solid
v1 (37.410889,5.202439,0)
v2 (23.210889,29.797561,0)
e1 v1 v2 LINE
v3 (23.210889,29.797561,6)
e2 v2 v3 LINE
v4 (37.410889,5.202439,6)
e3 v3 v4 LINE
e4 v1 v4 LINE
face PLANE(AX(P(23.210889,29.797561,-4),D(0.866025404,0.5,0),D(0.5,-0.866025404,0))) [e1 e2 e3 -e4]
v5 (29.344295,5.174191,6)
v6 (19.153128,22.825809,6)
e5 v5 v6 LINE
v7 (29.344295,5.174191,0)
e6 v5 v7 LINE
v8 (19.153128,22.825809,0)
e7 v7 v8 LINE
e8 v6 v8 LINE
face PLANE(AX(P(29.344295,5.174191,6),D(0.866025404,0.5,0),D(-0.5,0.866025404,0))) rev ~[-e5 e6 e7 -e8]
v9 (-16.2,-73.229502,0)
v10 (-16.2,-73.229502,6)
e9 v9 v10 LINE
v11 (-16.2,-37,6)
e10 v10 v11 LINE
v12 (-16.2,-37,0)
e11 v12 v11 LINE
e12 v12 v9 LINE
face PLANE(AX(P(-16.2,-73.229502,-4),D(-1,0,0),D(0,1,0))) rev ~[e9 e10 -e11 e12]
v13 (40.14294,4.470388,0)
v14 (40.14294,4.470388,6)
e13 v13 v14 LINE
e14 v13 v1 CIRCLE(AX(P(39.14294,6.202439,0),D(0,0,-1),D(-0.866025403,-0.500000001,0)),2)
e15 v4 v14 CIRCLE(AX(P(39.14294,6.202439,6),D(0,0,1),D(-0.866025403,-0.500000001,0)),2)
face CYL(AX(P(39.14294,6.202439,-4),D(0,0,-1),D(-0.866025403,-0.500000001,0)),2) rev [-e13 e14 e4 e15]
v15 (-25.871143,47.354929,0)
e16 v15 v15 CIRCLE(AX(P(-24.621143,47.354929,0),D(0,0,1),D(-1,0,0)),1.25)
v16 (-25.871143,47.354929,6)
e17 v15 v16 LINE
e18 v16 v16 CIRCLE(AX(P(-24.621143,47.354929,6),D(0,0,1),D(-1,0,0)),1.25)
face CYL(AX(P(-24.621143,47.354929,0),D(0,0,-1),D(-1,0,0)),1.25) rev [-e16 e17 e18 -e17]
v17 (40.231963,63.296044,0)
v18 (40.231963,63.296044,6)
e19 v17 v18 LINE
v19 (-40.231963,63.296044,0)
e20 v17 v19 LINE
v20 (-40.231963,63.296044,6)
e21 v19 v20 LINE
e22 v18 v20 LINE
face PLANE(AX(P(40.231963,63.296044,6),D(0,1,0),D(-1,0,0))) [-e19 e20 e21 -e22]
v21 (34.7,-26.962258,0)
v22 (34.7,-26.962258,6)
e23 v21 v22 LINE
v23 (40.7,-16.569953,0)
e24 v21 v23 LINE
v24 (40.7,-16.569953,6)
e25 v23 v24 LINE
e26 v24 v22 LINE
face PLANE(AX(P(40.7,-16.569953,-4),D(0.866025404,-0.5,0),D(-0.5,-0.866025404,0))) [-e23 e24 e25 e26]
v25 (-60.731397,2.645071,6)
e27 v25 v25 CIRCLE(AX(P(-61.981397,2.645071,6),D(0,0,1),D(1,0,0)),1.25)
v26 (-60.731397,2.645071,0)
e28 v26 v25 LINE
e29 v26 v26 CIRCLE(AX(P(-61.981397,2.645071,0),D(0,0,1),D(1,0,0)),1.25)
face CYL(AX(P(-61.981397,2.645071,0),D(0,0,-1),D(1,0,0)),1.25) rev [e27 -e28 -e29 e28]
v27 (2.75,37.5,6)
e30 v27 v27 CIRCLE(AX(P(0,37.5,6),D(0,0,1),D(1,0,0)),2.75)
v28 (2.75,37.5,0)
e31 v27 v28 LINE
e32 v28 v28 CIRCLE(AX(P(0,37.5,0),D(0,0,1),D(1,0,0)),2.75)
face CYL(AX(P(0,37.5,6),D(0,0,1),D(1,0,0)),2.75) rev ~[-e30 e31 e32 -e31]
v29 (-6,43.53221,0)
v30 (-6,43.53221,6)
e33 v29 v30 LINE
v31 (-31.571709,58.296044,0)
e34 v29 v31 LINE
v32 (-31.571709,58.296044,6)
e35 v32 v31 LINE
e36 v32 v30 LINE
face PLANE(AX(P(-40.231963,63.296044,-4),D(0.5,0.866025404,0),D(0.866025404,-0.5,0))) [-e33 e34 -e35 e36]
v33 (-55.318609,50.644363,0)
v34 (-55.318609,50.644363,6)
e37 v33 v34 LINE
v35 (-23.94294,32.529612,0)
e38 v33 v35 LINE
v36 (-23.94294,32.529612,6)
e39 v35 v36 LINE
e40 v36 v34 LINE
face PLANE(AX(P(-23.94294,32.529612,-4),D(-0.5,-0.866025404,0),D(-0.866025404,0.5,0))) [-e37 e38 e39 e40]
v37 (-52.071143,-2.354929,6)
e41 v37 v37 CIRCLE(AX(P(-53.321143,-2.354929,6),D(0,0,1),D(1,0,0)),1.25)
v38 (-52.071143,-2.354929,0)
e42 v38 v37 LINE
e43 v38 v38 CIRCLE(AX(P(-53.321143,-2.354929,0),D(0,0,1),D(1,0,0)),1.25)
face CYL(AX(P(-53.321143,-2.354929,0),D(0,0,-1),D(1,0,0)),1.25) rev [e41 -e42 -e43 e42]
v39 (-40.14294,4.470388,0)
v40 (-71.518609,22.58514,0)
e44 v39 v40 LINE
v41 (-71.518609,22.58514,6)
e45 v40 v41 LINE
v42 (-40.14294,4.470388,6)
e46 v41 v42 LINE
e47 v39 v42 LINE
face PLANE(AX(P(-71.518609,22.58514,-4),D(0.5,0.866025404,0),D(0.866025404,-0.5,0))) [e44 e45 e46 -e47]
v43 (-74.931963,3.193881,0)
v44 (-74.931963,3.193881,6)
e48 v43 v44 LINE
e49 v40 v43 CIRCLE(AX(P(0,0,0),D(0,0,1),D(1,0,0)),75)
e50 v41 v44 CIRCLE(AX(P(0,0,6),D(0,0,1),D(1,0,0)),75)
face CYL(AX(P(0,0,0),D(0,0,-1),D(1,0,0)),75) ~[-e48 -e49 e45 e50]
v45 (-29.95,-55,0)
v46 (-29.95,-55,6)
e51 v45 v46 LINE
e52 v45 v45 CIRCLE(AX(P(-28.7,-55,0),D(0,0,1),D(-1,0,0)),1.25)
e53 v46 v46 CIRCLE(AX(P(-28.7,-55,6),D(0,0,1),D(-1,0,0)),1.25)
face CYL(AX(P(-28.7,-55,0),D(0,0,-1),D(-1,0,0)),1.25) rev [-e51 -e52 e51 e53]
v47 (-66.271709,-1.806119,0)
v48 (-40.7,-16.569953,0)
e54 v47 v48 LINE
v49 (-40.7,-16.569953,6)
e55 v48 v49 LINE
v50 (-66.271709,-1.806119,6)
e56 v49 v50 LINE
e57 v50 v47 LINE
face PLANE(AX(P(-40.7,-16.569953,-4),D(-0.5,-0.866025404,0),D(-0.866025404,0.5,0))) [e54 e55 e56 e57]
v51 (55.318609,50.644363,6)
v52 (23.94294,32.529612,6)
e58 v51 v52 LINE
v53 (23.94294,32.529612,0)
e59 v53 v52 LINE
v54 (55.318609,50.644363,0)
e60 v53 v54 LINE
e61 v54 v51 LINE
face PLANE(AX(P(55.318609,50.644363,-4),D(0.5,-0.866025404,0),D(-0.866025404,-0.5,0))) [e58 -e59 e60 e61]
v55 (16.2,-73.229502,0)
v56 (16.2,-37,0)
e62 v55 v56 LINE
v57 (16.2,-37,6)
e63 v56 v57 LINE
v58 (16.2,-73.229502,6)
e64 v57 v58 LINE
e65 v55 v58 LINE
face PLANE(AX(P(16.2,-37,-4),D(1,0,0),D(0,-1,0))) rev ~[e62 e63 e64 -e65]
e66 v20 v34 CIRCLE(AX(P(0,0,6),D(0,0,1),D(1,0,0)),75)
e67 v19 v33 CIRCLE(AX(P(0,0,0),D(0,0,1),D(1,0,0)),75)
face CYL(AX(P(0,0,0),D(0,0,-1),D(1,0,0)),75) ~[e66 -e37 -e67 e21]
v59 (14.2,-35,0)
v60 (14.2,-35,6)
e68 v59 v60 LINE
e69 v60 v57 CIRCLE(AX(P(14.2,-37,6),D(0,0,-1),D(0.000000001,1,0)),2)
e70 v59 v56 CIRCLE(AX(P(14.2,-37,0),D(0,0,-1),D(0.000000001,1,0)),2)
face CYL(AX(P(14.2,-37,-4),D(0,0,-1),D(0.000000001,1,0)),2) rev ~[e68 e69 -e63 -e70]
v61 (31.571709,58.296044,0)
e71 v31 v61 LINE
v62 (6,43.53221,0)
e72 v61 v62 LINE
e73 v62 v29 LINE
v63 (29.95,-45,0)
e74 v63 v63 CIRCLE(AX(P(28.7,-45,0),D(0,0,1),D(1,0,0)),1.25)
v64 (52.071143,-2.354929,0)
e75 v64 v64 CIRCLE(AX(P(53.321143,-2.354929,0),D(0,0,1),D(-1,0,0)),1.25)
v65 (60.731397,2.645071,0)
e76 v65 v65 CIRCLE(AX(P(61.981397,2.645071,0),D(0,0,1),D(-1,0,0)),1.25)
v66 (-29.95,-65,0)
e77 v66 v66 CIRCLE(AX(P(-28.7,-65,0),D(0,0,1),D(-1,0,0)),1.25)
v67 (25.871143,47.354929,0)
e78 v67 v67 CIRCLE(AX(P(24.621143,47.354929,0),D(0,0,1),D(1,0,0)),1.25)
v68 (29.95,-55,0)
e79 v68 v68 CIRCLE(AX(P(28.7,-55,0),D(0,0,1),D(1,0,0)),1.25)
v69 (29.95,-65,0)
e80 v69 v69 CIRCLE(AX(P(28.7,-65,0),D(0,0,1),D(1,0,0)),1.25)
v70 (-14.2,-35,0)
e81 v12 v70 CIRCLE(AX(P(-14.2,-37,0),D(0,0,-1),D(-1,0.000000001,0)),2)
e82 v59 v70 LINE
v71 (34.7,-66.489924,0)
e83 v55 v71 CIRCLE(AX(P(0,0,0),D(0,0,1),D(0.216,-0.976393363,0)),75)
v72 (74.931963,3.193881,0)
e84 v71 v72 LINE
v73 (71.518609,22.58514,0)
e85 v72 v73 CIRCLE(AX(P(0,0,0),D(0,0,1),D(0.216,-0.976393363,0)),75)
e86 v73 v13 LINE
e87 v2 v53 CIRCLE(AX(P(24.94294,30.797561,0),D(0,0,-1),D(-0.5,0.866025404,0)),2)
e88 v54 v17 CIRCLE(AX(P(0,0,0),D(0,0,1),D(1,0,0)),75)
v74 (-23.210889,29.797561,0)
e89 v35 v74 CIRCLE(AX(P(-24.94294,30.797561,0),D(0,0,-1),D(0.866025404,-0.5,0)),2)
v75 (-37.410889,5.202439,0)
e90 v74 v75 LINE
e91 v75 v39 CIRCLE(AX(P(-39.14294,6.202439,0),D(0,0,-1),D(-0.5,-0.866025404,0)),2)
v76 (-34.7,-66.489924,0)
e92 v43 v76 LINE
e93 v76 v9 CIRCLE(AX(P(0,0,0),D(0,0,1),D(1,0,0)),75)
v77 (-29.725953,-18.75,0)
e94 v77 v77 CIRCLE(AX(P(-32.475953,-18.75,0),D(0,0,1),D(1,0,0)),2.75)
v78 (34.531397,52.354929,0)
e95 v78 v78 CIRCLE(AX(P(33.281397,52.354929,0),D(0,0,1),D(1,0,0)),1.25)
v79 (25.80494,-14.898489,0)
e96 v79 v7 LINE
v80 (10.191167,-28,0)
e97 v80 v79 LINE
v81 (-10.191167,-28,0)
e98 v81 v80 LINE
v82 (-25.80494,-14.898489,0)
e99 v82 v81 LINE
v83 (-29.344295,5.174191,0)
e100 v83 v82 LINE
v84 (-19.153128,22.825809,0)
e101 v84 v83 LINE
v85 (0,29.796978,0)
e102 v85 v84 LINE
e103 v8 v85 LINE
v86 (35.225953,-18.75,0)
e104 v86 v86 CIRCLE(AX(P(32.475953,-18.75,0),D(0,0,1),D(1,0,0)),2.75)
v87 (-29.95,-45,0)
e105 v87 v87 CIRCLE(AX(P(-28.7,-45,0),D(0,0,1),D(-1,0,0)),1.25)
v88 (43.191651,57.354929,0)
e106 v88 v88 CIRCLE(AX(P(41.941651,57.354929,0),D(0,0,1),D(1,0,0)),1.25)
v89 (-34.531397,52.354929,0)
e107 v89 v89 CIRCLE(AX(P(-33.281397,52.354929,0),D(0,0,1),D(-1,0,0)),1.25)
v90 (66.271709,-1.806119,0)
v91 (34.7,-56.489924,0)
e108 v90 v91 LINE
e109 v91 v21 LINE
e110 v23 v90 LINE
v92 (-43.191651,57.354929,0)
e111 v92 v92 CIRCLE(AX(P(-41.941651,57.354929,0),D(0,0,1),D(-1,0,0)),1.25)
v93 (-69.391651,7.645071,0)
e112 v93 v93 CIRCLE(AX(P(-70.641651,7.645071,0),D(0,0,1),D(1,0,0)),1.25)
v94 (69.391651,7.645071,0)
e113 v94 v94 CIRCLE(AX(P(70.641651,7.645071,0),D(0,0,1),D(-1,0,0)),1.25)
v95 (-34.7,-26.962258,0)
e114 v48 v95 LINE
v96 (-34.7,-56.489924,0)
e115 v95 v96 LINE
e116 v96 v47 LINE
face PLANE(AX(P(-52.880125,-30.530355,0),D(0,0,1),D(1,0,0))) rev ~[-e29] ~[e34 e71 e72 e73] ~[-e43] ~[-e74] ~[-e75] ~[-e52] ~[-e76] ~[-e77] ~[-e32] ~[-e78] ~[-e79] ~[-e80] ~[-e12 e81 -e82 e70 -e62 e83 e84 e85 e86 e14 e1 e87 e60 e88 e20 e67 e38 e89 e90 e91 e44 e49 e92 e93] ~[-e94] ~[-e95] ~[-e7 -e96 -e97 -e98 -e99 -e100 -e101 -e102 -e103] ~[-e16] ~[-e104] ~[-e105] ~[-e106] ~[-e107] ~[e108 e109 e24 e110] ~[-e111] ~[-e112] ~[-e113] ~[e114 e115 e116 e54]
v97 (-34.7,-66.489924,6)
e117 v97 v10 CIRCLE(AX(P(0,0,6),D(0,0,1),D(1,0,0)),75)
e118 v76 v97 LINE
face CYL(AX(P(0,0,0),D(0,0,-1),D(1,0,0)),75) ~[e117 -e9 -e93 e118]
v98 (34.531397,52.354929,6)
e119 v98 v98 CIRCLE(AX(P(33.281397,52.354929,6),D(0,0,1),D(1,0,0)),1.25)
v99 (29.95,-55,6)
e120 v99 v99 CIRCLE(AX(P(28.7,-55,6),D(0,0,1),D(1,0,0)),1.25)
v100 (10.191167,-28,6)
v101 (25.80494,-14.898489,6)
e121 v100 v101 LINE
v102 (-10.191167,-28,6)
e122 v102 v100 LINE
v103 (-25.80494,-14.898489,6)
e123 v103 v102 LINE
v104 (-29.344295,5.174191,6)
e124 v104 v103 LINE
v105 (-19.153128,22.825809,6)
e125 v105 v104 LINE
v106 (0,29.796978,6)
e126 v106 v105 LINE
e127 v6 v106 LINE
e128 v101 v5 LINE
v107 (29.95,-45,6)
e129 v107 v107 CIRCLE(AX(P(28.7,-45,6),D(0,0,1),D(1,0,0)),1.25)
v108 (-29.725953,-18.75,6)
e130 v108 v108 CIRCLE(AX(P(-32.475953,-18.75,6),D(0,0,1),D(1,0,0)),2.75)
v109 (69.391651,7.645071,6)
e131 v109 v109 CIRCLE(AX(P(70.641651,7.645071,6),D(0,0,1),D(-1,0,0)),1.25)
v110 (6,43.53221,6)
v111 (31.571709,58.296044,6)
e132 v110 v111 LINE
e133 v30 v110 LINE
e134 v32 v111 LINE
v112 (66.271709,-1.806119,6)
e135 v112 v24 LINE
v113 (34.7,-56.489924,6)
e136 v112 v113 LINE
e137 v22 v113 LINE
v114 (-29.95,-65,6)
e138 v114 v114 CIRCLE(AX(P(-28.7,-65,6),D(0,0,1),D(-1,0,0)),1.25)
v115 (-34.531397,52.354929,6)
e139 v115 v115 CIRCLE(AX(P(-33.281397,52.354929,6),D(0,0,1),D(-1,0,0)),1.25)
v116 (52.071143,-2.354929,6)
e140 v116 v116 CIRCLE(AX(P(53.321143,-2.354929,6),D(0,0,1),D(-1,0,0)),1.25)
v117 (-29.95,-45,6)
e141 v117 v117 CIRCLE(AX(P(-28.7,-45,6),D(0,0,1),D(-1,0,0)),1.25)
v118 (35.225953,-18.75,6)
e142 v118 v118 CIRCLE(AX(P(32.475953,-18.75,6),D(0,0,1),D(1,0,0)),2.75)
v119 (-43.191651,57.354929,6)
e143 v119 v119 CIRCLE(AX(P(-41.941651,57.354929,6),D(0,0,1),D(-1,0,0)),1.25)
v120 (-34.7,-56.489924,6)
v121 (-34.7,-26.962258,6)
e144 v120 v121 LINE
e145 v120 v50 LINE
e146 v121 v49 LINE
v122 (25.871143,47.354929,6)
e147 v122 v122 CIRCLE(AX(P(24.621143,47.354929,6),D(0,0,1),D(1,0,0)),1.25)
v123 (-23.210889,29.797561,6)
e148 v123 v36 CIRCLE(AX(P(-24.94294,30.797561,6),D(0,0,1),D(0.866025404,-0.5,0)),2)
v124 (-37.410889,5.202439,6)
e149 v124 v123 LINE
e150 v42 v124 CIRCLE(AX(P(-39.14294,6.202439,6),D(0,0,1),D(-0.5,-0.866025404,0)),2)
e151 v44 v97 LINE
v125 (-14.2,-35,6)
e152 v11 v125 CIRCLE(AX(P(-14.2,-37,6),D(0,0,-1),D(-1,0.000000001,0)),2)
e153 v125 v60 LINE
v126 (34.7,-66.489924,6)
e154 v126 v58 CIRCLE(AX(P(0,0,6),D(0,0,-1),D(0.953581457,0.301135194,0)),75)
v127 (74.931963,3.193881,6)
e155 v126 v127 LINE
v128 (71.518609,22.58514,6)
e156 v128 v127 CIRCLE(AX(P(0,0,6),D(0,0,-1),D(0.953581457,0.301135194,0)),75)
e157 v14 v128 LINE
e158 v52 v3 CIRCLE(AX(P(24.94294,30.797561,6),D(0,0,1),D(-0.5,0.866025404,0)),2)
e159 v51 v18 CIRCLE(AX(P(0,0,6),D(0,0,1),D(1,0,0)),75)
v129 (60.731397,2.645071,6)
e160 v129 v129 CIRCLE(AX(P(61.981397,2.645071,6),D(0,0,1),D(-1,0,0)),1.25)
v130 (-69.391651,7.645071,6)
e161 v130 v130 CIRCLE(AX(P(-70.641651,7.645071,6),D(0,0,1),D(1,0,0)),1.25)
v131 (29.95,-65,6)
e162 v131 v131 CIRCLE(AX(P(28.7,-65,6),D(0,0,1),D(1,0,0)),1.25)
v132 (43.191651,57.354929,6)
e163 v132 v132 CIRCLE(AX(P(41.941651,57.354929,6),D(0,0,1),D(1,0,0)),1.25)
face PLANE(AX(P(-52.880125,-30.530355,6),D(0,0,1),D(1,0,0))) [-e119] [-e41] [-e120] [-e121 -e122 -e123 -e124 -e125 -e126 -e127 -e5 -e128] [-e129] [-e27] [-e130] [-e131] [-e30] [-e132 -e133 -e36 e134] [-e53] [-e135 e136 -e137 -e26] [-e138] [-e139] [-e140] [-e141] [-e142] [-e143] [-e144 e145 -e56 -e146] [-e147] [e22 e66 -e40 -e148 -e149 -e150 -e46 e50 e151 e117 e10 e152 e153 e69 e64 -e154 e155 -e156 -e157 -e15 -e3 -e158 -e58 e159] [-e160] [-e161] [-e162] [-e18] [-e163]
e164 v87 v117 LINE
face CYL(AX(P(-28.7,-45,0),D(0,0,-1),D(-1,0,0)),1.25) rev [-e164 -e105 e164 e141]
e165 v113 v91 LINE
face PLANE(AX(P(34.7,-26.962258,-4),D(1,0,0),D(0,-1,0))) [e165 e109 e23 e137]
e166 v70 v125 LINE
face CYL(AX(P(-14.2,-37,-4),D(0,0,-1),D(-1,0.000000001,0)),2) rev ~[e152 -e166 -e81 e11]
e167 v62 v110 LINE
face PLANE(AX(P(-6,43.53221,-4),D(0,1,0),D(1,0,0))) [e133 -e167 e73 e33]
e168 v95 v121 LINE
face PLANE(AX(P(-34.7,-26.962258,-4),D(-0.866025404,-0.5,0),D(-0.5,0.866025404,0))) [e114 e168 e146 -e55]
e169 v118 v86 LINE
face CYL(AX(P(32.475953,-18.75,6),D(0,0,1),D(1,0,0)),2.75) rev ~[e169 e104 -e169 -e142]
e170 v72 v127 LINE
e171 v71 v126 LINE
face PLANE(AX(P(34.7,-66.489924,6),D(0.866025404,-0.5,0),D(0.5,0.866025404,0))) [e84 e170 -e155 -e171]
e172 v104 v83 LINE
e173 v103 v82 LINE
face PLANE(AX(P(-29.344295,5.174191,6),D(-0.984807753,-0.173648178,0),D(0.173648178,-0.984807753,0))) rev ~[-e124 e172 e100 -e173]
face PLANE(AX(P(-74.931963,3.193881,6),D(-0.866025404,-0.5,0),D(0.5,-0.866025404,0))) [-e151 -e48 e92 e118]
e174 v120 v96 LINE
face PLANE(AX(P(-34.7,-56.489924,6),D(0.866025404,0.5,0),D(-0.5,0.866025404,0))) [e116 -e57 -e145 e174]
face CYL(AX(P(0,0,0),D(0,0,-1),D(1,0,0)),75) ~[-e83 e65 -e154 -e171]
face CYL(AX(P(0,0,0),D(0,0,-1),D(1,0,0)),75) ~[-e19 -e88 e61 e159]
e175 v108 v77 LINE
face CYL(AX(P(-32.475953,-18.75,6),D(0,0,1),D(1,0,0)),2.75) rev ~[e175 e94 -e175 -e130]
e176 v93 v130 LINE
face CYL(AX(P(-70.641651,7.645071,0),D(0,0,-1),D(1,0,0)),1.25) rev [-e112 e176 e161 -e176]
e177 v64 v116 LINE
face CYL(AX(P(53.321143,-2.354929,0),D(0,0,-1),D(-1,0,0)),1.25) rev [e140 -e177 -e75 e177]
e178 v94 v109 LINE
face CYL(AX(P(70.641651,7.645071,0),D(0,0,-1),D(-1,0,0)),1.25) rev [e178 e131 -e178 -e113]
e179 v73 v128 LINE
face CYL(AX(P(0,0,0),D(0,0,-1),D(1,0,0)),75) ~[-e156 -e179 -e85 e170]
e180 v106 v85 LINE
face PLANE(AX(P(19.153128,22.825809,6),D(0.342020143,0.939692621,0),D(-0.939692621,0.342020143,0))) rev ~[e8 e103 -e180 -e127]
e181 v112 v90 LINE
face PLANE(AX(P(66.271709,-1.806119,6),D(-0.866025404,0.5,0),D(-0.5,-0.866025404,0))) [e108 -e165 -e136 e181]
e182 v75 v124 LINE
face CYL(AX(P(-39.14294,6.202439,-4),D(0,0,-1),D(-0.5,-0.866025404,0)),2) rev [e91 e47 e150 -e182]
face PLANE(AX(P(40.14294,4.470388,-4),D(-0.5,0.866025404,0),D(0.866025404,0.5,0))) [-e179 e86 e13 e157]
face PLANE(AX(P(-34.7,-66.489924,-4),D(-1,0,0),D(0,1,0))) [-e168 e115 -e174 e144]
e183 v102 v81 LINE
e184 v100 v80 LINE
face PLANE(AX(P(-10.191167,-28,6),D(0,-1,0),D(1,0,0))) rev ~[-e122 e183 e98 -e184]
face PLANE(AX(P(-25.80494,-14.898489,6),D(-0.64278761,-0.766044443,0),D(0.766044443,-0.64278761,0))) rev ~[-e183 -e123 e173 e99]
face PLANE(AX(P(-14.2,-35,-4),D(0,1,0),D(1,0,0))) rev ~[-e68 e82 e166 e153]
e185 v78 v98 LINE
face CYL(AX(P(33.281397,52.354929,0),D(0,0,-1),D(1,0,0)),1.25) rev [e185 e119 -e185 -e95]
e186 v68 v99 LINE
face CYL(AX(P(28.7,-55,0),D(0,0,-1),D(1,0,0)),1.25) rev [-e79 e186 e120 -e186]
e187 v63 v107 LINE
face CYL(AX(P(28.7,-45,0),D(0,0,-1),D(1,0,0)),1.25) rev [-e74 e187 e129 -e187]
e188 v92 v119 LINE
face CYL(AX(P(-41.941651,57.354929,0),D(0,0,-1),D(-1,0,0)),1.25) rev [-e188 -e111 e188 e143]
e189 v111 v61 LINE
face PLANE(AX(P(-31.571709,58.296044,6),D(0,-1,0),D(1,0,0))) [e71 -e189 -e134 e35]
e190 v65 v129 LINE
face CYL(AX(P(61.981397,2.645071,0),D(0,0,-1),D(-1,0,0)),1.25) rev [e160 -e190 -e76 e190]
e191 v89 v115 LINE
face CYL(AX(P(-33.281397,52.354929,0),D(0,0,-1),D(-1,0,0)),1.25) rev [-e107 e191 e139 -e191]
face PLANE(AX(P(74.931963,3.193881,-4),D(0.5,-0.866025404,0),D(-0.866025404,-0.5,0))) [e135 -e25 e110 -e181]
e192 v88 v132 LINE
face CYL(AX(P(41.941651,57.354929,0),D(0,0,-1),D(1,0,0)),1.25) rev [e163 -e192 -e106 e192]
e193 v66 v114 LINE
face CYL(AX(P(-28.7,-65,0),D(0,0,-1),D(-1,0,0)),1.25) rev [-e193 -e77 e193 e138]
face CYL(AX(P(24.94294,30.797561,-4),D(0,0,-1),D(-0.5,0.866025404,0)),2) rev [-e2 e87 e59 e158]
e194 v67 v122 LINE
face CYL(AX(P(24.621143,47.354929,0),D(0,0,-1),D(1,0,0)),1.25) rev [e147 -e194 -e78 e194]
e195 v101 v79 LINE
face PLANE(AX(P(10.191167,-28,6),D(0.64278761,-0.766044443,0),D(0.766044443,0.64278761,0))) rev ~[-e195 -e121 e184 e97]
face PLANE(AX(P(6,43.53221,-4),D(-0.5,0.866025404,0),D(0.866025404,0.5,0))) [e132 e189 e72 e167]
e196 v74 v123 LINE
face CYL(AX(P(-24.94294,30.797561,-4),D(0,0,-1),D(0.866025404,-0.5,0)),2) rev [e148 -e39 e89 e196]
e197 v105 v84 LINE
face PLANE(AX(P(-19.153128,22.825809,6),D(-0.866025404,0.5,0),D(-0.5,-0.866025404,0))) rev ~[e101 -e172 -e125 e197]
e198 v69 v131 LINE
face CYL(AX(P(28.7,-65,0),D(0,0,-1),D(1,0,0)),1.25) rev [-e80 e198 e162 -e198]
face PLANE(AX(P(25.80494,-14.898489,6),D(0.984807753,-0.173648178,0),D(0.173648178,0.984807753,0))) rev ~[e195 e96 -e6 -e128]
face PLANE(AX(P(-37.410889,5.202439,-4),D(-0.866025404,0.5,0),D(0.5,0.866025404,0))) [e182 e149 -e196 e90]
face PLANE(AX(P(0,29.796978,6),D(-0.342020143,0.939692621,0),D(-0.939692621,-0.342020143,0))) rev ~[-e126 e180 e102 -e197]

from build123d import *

# Parameters (mm, degrees)
SKETCH_1_R          = 75
SKETCH_1_R_2        = 1.25
EXTRUDE_1_DEPTH     = 6
CUT_EXTRUDE_START   = -10
CUT_EXTRUDE_2_DEPTH = 10
CUT_EXTRUDE_3_DEPTH = 10
EXTRUDE_2_DEPTH     = 6
CUT_EXTRUDE_4_DEPTH = 6
SKETCH_8_R          = 2.75
CUT_EXTRUDE_5_DEPTH = 10


with BuildPart() as part:
    # 草图1 → 凸台-拉伸1 (new body)
    with BuildSketch(Plane.XY):
        Circle(SKETCH_1_R)
        with Locations((28.7, -65)):
            Circle(SKETCH_1_R_2, mode=Mode.SUBTRACT)
        with Locations((28.7, -55)):
            Circle(SKETCH_1_R_2, mode=Mode.SUBTRACT)
        with Locations((28.7, -45)):
            Circle(SKETCH_1_R_2, mode=Mode.SUBTRACT)
        with Locations(Location((-28.7, -45, 0), (0, 0, 180))):
            Circle(SKETCH_1_R_2, mode=Mode.SUBTRACT)
        with Locations(Location((-28.7, -55, 0), (0, 0, 180))):
            Circle(SKETCH_1_R_2, mode=Mode.SUBTRACT)
        with Locations(Location((-28.7, -65, 0), (0, 0, 180))):
            Circle(SKETCH_1_R_2, mode=Mode.SUBTRACT)
        with Locations(Location((-24.62114317, 47.354929089, 0), (0, 0, 180))):
            Circle(SKETCH_1_R_2, mode=Mode.SUBTRACT)
        with Locations(Location((-33.281397208, 52.354929089, 0), (0, 0, 180))):
            Circle(SKETCH_1_R_2, mode=Mode.SUBTRACT)
        with Locations(Location((-41.941651246, 57.354929089, 0), (0, 0, 180))):
            Circle(SKETCH_1_R_2, mode=Mode.SUBTRACT)
        with Locations((-53.32114317, -2.354929089)):
            Circle(SKETCH_1_R_2, mode=Mode.SUBTRACT)
        with Locations((-61.981397208, 2.645070911)):
            Circle(SKETCH_1_R_2, mode=Mode.SUBTRACT)
        with Locations((-70.641651246, 7.645070911)):
            Circle(SKETCH_1_R_2, mode=Mode.SUBTRACT)
        with Locations(Location((53.32114317, -2.354929089, 0), (0, 0, 180))):
            Circle(SKETCH_1_R_2, mode=Mode.SUBTRACT)
        with Locations(Location((61.981397208, 2.645070911, 0), (0, 0, 180))):
            Circle(SKETCH_1_R_2, mode=Mode.SUBTRACT)
        with Locations(Location((70.641651246, 7.645070911, 0), (0, 0, 180))):
            Circle(SKETCH_1_R_2, mode=Mode.SUBTRACT)
        with Locations((24.62114317, 47.354929089)):
            Circle(SKETCH_1_R_2, mode=Mode.SUBTRACT)
        with Locations((33.281397208, 52.354929089)):
            Circle(SKETCH_1_R_2, mode=Mode.SUBTRACT)
        with Locations((41.941651246, 57.354929089)):
            Circle(SKETCH_1_R_2, mode=Mode.SUBTRACT)
    extrude(amount=EXTRUDE_1_DEPTH)

    # 草图3 → 切除-拉伸2 (cut)
    with BuildSketch(Plane.XY.offset(6).offset(CUT_EXTRUDE_START)):
        with BuildLine():
            Line((16.2, -37), (16.2, -73.229502251))
            ThreePointArc((16.2, -73.229502251), (0, -75), (-16.2, -73.229502251))
            Line((-16.2, -73.229502251), (-16.2, -37))
            ThreePointArc((-16.2, -37), (-15.614213562, -35.585786438), (-14.2, -35))
            Line((-14.2, -35), (14.2, -35))
            ThreePointArc((14.2, -35), (15.614213562, -35.585786438), (16.2, -37))
        make_face()
        with BuildLine():
            Line((-23.94293994, 32.529611541), (-55.318609256, 50.644362667))
            ThreePointArc((-55.318609256, 50.644362667), (-64.951905284, 37.5), (-71.518609256, 22.585139584))
            Line((-71.518609256, 22.585139584), (-40.14293994, 4.470388459))
            ThreePointArc((-40.14293994, 4.470388459), (-38.62530185, 4.270587614), (-37.410889132, 5.202439266))
            Line((-37.410889132, 5.202439266), (-23.210889132, 29.797560734))
            ThreePointArc((-23.210889132, 29.797560734), (-23.011088287, 31.315198824), (-23.94293994, 32.529611541))
        make_face()
        with BuildLine():
            Line((40.14293994, 4.470388459), (71.518609256, 22.585139584))
            ThreePointArc((71.518609256, 22.585139584), (64.951905284, 37.5), (55.318609256, 50.644362667))
            Line((55.318609256, 50.644362667), (23.94293994, 32.529611541))
            ThreePointArc((23.94293994, 32.529611541), (23.011088287, 31.315198824), (23.210889132, 29.797560734))
            Line((23.210889132, 29.797560734), (37.410889132, 5.202439266))
            ThreePointArc((37.410889132, 5.202439266), (38.62530185, 4.270587614), (40.14293994, 4.470388459))
        make_face()
    extrude(amount=CUT_EXTRUDE_2_DEPTH, mode=Mode.SUBTRACT)

    # 草图5 → 切除-拉伸3 (cut)
    with BuildSketch(Plane.XY.offset(6).offset(CUT_EXTRUDE_START)):
        with BuildLine():
            Line((-40.231963322, 63.296043536), (-6, 43.532210297))
            Line((-6, 43.532210297), (6, 43.532210297))
            Line((6, 43.532210297), (40.231963322, 63.296043536))
            ThreePointArc((40.231963322, 63.296043536), (0, 75), (-40.231963322, 63.296043536))
        make_face()
        with BuildLine():
            Line((74.931963322, 3.193880513), (40.7, -16.569952726))
            Line((40.7, -16.569952726), (34.7, -26.962257571))
            Line((34.7, -26.962257571), (34.7, -66.489924049))
            ThreePointArc((34.7, -66.489924049), (64.951905284, -37.5), (74.931963322, 3.193880513))
        make_face()
        with BuildLine():
            Line((-34.7, -66.489924049), (-34.7, -26.962257571))
            Line((-34.7, -26.962257571), (-40.7, -16.569952726))
            Line((-40.7, -16.569952726), (-74.931963322, 3.193880513))
            ThreePointArc((-74.931963322, 3.193880513), (-64.951905284, -37.5), (-34.7, -66.489924049))
        make_face()
    extrude(amount=CUT_EXTRUDE_3_DEPTH, mode=Mode.SUBTRACT)

    # 草图6 → 凸台-拉伸2 (add)
    with BuildSketch(Plane.XY.offset(6)):
        Polygon((-74.931963322, 3.193880513), (-34.7, -66.489924049), (-34.7, -56.489924049), (-66.271709284, -1.806119487), align=None)
        Polygon((31.571709284, 58.296043536), (40.231963322, 63.296043536), (-40.231963322, 63.296043536), (-31.571709284, 58.296043536), align=None)
        Polygon((34.7, -56.489924049), (34.7, -66.489924049), (74.931963322, 3.193880513), (66.271709284, -1.806119487), align=None)
    extrude(amount=-EXTRUDE_2_DEPTH)

    # 草图7 → 切除-拉伸4 (cut)
    with BuildSketch(Plane.XY.offset(6)):
        Polygon((-25.804939583, -14.898488815), (-10.191166559, -28), (10.191166559, -28), (25.804939583, -14.898488815), (29.344294586, 5.174190865), (19.153128026, 22.825809135), (0, 29.796977629), (-19.153128026, 22.825809135), (-29.344294586, 5.174190865), align=None)
    extrude(amount=-CUT_EXTRUDE_4_DEPTH, mode=Mode.SUBTRACT)

    # 草图8 → 切除-拉伸5 (cut)
    with BuildSketch(Plane.XY.offset(6)):
        with Locations((0, 37.5)):
            Circle(SKETCH_8_R)
        with Locations((32.475952642, -18.75)):
            Circle(SKETCH_8_R)
        with Locations((-32.475952642, -18.75)):
            Circle(SKETCH_8_R)
    extrude(amount=-CUT_EXTRUDE_5_DEPTH, mode=Mode.SUBTRACT)


solid = part.part
